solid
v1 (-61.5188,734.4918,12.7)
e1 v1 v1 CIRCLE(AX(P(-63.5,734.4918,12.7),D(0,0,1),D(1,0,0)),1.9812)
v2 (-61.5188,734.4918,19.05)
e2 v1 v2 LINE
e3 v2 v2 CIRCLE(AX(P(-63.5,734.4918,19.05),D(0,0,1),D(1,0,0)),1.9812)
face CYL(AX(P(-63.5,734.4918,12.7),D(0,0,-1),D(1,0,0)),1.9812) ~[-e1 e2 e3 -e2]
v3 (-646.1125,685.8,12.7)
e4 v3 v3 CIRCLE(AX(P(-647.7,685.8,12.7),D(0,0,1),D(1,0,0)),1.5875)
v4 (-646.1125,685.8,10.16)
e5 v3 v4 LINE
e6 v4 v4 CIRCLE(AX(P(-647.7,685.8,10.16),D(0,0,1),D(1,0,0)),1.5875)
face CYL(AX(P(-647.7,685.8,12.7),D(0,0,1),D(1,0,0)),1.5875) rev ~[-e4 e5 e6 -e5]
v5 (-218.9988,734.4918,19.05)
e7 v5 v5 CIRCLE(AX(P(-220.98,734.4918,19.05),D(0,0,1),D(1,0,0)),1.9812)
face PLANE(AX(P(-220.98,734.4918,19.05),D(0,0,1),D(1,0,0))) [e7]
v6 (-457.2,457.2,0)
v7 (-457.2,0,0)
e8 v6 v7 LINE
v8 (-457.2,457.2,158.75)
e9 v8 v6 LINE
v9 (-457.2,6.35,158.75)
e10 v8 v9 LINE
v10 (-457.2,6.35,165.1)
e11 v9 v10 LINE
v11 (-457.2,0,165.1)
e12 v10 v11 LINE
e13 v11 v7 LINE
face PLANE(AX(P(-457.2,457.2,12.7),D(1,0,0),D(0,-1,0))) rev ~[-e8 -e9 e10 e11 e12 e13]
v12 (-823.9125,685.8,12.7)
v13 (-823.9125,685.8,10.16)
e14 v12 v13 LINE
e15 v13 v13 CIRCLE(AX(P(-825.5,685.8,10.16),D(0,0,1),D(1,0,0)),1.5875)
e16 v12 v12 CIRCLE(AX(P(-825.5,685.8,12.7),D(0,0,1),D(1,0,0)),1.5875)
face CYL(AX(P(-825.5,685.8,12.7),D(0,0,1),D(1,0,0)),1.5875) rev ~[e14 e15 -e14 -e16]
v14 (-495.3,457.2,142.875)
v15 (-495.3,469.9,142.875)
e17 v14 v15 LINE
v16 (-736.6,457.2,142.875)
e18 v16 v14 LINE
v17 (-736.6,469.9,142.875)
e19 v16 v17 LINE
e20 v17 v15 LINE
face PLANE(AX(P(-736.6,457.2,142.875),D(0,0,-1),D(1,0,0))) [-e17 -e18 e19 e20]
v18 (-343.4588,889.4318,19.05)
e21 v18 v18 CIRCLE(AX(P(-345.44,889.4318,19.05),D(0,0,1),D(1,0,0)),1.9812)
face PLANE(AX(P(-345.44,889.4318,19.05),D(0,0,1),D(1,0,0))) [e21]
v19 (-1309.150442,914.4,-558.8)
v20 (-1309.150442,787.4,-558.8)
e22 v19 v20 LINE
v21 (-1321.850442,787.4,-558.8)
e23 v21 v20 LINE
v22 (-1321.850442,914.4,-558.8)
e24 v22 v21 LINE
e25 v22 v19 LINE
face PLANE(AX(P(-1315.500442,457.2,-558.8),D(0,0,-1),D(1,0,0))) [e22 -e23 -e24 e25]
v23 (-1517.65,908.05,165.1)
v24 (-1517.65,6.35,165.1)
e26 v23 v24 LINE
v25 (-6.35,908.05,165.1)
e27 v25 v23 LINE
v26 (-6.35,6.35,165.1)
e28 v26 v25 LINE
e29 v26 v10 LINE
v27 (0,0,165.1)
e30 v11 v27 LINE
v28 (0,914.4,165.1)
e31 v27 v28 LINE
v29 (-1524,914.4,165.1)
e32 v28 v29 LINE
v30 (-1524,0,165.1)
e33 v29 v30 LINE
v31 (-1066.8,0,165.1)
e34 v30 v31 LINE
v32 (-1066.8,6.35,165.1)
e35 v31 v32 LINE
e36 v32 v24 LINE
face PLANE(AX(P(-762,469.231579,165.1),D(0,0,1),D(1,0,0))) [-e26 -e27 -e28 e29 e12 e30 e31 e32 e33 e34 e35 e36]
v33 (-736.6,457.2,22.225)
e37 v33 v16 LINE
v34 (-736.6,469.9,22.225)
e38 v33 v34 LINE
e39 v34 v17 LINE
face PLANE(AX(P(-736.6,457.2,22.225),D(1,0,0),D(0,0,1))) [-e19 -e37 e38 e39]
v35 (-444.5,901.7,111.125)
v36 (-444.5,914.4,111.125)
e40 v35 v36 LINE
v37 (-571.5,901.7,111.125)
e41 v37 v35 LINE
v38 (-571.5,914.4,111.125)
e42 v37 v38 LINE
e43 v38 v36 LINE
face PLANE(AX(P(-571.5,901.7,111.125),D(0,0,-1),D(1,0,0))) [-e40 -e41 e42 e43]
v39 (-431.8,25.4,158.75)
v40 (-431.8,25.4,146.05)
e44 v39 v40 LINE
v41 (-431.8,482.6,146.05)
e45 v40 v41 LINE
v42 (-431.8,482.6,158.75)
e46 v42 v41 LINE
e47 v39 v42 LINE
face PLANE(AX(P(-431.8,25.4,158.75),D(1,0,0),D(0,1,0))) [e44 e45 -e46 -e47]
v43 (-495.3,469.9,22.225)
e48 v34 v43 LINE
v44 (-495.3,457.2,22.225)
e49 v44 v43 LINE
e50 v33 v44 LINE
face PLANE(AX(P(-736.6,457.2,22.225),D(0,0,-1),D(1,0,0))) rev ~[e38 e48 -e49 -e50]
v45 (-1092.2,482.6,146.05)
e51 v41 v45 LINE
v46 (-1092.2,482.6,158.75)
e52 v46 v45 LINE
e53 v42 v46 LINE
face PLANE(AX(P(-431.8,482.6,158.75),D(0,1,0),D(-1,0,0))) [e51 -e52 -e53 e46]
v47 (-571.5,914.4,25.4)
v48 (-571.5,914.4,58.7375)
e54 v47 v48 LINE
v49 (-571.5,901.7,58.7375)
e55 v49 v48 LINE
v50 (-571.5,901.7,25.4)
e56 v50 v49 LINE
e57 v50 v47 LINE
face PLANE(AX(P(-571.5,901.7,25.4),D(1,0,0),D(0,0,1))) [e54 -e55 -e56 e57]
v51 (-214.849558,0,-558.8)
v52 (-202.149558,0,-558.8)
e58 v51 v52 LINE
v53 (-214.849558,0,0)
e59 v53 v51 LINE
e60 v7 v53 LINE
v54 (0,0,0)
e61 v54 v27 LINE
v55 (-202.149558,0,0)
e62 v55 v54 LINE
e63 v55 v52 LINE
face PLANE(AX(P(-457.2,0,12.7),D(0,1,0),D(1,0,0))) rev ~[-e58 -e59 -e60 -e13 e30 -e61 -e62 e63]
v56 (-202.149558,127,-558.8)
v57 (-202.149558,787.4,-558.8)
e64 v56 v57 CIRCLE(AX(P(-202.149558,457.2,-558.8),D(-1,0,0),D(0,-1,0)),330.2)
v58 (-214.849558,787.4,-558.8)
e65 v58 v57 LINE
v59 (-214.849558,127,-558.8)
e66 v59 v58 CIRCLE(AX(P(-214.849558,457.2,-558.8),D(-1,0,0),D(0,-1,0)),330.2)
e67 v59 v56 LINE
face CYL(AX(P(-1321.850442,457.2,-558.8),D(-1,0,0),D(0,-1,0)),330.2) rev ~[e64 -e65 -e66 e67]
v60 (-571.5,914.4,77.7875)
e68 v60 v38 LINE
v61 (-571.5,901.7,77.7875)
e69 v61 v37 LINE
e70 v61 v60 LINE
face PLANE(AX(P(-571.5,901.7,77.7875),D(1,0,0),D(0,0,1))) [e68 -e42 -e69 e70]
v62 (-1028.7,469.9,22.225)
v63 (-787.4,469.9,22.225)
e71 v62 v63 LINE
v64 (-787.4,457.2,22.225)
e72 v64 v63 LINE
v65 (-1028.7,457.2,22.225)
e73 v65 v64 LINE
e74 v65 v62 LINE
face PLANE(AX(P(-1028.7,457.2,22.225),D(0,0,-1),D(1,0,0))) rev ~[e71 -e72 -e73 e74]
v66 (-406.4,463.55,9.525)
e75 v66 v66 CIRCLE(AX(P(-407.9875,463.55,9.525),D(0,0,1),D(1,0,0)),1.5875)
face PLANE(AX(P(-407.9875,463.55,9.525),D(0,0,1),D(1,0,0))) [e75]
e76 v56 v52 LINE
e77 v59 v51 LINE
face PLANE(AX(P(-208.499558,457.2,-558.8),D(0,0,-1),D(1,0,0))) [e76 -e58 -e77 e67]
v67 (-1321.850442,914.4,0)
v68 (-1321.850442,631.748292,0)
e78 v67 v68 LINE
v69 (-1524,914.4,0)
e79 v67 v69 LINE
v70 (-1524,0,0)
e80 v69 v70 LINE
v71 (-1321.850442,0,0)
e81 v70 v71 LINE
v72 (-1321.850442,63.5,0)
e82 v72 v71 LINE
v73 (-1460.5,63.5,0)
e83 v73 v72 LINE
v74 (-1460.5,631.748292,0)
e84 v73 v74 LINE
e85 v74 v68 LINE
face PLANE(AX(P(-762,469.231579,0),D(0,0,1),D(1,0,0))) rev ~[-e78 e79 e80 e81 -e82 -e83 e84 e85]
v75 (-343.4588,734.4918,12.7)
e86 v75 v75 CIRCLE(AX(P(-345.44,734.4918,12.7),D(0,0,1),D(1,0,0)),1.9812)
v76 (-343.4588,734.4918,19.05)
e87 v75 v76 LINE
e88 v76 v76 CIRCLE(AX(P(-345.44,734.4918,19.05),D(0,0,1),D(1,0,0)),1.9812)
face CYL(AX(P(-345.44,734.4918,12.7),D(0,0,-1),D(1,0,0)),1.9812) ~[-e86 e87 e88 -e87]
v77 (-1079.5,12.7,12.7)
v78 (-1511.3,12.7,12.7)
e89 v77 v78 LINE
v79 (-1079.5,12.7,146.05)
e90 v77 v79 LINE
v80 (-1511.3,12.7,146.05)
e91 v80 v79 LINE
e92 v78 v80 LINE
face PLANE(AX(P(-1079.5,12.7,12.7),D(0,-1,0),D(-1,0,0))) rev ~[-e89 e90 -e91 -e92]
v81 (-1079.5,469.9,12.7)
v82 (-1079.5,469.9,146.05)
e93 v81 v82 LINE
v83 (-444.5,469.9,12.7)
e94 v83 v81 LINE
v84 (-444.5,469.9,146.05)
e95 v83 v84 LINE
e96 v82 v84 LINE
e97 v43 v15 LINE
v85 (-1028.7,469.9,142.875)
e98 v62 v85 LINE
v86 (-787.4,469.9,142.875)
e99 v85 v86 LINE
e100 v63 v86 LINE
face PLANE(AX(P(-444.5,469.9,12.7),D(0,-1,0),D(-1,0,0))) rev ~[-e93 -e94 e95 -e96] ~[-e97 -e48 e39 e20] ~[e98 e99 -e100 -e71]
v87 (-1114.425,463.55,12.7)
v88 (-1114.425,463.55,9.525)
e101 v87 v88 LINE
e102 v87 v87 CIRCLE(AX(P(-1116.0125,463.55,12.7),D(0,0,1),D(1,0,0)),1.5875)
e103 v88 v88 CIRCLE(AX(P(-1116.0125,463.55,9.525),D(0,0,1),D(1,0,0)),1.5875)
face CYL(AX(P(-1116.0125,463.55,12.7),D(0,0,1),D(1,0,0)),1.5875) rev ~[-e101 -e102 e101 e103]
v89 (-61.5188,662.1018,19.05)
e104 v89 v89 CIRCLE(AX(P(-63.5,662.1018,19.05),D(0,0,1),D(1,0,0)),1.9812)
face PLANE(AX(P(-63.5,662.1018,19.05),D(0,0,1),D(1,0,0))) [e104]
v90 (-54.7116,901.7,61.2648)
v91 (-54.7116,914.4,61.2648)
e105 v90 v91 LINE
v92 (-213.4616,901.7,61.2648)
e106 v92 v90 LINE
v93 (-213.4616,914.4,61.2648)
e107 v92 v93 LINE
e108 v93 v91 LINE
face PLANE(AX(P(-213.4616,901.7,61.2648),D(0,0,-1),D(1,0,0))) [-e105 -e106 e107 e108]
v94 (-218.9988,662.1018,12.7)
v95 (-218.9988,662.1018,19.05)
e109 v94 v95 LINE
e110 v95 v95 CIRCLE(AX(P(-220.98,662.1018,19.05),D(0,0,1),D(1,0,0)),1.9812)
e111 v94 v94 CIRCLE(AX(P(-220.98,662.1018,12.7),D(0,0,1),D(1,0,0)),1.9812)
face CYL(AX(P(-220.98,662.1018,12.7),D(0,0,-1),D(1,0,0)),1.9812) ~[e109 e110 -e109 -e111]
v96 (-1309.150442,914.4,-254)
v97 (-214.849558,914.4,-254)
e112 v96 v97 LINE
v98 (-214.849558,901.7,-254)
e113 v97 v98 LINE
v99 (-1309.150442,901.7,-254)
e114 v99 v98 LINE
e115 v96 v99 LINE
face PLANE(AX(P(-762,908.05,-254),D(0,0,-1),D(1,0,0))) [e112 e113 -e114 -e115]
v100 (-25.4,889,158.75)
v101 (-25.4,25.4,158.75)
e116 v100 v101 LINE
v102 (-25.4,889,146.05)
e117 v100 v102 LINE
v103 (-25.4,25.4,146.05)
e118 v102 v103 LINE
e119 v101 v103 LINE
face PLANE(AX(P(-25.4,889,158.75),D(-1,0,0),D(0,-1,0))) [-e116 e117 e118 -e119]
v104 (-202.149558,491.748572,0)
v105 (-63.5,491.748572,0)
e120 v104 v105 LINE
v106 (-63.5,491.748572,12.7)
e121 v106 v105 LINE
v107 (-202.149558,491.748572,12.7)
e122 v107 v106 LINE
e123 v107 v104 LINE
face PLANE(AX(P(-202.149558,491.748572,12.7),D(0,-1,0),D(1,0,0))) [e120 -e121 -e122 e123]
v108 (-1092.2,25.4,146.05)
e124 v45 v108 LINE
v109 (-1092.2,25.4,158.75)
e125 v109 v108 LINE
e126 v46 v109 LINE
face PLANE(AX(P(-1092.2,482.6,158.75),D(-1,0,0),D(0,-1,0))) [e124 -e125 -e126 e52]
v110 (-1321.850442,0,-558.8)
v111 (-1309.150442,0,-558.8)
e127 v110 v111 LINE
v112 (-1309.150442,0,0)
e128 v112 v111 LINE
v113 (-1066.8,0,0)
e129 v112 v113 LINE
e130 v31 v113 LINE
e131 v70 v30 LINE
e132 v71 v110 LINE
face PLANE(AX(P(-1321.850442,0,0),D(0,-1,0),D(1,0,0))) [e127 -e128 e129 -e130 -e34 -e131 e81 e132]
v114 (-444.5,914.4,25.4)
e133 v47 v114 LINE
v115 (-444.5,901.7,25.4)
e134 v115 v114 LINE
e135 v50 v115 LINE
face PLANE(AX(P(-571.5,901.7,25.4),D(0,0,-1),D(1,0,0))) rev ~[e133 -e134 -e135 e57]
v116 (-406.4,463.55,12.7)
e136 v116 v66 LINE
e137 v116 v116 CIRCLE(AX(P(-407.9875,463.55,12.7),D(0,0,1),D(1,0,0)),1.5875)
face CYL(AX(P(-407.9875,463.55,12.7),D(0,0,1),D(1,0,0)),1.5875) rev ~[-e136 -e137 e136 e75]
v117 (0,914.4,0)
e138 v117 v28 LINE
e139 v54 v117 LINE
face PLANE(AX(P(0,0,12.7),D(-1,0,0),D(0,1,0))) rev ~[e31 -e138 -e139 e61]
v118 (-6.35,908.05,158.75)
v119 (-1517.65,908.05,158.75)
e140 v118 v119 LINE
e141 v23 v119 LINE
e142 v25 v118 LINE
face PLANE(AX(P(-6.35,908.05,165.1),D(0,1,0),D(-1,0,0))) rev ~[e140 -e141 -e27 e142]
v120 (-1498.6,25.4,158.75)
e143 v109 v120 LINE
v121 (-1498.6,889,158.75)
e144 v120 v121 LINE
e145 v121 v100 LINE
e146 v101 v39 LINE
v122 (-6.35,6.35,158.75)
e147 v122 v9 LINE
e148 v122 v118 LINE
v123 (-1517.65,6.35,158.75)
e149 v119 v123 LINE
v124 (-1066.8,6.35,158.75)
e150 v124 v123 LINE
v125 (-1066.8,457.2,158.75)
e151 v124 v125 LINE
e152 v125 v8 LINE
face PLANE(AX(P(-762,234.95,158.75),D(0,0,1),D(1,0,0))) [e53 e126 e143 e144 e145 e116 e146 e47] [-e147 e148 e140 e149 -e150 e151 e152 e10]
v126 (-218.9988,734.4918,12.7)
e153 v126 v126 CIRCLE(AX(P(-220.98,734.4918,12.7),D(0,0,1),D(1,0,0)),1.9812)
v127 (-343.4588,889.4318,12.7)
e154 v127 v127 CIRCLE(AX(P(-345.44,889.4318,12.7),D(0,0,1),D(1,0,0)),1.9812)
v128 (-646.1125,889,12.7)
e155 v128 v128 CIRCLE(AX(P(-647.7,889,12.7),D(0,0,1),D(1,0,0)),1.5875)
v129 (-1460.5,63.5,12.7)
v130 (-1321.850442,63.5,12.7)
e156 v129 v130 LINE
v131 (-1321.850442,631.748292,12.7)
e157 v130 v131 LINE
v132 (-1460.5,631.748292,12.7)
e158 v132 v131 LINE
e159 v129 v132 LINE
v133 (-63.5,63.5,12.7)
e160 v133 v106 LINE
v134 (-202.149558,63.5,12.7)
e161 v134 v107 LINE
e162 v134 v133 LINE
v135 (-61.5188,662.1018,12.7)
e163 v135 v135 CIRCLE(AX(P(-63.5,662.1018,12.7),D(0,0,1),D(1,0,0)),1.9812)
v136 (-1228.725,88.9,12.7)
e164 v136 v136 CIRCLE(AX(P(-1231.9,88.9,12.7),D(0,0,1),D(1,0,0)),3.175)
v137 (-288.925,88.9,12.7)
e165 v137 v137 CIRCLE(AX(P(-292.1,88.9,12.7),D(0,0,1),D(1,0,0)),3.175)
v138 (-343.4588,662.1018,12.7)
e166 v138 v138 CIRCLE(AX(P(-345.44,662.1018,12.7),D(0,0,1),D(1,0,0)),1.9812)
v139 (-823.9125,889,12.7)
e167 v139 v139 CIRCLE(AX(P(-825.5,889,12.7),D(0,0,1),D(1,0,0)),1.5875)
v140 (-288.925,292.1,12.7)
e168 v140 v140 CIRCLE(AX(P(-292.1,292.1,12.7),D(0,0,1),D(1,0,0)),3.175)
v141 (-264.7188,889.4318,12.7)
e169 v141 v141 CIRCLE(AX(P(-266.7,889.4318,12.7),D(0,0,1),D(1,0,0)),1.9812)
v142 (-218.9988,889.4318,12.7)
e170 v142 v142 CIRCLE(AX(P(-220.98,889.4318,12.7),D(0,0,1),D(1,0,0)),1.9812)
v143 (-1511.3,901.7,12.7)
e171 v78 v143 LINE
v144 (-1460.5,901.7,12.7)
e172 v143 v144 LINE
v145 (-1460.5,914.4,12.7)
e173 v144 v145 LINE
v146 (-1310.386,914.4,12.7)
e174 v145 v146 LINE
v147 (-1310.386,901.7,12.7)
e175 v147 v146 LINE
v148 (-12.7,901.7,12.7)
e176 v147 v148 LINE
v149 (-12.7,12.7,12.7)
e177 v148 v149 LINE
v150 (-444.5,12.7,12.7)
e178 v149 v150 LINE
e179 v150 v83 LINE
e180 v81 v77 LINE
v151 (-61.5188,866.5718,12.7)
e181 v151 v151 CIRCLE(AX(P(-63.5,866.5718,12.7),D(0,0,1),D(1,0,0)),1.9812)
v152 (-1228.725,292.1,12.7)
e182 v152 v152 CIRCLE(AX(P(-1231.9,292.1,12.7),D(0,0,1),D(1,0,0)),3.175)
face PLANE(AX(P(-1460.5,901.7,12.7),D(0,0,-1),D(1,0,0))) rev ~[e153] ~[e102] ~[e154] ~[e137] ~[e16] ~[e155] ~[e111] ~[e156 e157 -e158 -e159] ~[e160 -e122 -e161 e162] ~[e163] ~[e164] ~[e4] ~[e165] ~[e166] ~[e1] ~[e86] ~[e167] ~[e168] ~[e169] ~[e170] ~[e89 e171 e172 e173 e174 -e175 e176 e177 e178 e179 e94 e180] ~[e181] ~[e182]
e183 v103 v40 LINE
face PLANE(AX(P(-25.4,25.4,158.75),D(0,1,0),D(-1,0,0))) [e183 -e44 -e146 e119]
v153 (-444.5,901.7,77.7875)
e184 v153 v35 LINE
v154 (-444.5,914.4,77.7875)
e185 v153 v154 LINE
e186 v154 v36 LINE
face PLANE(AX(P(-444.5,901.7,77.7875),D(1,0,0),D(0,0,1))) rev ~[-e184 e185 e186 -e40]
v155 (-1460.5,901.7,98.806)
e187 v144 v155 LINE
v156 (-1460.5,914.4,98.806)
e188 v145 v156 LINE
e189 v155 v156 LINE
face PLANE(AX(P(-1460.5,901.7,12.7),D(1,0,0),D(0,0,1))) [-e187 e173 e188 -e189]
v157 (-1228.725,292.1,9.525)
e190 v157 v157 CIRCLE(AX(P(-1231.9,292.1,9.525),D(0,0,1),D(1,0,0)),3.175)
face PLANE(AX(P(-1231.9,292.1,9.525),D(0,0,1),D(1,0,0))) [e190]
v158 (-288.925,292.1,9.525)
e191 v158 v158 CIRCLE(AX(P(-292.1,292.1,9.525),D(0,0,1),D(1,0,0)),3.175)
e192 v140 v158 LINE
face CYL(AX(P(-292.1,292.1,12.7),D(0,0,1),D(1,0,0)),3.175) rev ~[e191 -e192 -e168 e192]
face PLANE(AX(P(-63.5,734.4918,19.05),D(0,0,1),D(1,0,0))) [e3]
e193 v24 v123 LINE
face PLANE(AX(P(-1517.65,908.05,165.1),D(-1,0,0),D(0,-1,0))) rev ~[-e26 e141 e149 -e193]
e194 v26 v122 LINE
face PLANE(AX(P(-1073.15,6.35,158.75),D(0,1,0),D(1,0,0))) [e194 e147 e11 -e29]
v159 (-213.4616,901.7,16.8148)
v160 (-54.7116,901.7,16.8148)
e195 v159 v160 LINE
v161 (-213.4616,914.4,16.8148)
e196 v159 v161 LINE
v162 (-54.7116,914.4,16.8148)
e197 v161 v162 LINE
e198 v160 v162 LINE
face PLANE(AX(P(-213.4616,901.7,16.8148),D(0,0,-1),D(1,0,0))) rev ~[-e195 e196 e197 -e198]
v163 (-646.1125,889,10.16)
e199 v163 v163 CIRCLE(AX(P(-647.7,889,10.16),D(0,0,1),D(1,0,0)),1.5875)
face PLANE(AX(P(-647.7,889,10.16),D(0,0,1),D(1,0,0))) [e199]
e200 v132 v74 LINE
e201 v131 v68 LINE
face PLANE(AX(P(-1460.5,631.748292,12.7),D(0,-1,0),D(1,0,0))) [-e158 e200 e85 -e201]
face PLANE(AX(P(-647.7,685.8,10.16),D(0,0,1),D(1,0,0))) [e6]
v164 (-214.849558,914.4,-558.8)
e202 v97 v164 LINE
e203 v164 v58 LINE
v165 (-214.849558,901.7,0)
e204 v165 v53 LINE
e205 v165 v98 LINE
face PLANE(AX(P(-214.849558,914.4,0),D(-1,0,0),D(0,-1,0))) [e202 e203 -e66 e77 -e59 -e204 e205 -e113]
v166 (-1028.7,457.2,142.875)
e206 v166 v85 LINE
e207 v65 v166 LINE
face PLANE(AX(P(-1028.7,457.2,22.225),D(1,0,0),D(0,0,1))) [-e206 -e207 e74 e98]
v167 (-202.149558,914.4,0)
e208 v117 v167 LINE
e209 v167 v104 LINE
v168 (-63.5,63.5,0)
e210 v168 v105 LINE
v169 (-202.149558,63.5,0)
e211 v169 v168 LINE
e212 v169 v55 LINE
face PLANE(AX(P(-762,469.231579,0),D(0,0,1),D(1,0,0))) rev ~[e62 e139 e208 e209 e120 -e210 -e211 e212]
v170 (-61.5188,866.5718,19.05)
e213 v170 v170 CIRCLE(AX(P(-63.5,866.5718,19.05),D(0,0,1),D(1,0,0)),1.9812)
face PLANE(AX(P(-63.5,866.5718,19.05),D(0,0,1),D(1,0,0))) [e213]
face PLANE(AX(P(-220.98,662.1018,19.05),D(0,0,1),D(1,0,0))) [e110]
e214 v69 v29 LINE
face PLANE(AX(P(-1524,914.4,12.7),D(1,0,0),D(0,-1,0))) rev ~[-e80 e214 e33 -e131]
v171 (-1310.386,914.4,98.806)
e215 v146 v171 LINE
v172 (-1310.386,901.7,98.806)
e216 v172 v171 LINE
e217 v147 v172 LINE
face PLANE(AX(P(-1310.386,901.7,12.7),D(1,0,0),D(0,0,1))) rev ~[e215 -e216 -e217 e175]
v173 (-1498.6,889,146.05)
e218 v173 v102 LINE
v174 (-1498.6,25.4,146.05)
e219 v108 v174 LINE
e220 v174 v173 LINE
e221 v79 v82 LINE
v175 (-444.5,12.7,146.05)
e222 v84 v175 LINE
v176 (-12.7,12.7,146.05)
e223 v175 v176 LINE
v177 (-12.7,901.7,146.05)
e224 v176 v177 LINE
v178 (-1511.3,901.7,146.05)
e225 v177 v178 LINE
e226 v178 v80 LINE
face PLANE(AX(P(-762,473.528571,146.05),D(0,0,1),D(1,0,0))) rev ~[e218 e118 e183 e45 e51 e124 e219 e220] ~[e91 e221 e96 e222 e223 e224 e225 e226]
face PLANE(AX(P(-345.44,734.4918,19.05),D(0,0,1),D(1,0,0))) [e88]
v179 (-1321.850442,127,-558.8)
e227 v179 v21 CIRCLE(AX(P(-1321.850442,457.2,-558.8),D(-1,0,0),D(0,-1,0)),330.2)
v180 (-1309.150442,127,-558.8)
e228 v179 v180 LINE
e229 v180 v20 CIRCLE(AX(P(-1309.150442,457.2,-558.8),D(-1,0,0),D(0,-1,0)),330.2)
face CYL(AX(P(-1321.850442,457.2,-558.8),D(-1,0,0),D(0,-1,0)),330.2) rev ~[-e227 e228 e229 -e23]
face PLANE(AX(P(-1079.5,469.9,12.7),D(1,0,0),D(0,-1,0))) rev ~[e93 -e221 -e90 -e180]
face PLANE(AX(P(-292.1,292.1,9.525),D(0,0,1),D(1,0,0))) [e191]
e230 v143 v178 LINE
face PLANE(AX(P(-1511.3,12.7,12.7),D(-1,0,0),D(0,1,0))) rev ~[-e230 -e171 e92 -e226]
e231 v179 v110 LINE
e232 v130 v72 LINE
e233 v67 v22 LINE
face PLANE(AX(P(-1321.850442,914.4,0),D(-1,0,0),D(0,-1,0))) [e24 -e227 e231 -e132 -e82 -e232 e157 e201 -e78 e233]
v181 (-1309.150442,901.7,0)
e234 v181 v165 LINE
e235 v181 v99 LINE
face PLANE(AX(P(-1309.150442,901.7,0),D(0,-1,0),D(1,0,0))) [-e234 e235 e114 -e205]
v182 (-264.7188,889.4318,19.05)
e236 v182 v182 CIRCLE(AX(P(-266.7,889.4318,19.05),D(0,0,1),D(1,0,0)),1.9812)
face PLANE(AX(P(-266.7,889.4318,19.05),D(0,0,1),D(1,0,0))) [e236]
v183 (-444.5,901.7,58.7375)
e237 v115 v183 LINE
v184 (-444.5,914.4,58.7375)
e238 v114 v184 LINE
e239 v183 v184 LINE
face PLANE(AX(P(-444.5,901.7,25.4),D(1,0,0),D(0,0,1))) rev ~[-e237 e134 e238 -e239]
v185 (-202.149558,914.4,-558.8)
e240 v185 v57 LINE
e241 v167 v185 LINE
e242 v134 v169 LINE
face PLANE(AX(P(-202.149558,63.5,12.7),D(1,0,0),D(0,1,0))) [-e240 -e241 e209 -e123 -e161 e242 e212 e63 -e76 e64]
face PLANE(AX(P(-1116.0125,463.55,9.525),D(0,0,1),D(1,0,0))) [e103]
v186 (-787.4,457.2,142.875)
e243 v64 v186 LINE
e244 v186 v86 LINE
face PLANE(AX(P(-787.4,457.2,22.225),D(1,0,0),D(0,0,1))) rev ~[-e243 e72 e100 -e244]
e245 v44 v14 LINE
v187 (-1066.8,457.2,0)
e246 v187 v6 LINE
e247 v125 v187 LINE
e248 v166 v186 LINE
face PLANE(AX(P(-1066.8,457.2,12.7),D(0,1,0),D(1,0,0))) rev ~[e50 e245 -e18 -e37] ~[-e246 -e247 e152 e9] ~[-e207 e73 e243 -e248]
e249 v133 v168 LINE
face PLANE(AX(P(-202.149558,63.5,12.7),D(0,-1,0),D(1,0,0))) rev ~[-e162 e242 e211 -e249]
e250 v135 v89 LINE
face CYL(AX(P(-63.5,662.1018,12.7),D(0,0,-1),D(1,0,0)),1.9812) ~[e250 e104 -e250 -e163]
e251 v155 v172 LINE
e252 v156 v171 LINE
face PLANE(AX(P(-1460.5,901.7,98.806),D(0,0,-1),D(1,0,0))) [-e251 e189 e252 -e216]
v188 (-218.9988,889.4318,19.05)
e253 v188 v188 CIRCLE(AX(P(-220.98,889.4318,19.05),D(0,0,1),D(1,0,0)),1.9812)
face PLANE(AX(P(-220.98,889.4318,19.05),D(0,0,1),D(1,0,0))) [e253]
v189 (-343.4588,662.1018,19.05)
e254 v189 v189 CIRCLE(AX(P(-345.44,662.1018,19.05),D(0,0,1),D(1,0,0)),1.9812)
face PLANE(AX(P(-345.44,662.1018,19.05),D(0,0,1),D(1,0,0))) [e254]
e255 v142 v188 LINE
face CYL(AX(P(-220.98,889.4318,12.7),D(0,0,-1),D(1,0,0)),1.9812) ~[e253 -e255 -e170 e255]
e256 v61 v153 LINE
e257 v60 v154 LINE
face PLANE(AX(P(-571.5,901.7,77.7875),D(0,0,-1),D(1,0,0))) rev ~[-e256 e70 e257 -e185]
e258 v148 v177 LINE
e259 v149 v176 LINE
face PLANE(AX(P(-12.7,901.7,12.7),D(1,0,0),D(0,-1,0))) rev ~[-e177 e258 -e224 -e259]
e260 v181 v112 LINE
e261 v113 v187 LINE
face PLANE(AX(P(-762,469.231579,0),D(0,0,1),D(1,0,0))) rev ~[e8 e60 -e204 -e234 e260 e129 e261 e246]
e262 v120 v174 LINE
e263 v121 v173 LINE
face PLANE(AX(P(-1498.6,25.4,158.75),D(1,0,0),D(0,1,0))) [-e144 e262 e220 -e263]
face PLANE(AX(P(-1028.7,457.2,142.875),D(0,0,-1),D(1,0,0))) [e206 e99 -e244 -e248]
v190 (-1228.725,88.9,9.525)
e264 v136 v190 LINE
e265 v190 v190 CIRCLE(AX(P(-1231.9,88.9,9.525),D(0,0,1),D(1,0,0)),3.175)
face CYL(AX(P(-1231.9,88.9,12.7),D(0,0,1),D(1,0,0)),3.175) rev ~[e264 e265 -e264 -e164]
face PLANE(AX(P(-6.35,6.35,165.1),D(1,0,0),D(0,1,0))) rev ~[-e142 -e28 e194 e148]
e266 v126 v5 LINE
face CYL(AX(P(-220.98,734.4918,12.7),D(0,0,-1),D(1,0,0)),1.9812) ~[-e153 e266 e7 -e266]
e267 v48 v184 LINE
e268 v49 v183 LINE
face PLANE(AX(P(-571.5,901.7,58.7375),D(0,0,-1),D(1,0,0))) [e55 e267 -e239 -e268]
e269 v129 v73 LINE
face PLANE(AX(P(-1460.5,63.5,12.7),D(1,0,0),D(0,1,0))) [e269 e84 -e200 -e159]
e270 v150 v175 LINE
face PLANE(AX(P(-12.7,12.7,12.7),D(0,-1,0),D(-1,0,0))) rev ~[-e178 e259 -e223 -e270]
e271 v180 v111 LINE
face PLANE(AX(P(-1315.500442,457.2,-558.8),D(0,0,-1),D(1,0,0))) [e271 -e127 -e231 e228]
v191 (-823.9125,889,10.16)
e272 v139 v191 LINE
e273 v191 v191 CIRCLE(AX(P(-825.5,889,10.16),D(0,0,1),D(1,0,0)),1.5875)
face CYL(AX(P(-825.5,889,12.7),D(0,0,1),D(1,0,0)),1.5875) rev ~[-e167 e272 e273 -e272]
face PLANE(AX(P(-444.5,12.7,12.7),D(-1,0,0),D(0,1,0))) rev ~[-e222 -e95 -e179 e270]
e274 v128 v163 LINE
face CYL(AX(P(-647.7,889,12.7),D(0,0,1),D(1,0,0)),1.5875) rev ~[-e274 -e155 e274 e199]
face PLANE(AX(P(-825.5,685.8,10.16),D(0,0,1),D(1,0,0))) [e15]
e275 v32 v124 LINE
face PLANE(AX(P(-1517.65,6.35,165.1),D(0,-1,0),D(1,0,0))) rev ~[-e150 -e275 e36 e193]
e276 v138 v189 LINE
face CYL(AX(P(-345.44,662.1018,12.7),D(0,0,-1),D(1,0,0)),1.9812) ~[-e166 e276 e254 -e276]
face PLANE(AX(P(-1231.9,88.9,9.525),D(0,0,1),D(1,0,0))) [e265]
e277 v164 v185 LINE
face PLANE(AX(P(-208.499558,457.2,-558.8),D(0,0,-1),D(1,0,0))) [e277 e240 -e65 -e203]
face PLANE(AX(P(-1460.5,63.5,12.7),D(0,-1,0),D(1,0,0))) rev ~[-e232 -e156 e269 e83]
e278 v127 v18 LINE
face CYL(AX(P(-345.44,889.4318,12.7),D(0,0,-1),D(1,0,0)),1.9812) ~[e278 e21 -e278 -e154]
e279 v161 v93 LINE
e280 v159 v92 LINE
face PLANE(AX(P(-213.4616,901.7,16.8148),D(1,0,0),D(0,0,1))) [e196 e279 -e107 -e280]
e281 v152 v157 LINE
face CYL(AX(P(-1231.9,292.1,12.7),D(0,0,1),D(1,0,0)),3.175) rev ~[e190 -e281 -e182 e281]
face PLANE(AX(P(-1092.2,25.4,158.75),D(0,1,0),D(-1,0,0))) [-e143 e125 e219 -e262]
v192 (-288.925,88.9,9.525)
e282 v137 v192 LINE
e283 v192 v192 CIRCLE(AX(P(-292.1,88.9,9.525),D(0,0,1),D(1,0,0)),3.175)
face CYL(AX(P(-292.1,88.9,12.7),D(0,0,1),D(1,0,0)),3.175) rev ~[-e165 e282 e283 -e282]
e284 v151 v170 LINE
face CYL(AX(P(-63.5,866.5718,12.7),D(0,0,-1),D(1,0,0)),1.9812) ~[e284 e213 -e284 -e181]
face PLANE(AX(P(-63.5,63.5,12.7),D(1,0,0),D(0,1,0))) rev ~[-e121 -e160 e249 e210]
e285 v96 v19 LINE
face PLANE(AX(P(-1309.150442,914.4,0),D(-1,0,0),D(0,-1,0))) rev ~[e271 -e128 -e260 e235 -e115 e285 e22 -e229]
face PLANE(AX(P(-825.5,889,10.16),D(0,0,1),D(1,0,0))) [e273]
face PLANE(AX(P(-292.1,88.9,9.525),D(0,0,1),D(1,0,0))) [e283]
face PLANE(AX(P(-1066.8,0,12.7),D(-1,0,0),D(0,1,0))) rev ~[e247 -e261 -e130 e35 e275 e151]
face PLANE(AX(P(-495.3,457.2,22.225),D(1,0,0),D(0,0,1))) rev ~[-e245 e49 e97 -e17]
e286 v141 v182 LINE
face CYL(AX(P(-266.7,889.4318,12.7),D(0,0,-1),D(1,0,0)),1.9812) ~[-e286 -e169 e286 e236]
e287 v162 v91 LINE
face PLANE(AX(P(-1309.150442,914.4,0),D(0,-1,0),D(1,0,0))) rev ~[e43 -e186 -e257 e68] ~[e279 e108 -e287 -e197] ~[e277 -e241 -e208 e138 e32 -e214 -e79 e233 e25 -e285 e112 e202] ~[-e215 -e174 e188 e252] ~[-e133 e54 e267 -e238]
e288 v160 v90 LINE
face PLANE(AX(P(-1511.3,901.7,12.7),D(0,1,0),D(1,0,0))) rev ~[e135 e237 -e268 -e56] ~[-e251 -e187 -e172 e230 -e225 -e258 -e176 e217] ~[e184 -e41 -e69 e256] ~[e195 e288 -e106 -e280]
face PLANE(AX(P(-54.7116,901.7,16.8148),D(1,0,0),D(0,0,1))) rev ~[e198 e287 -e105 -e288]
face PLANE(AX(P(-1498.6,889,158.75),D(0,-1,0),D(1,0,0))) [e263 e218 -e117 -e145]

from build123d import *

# Parameters (mm, degrees)
F1_DEPTH  = 12.7
F3_DEPTH  = 152.4
F4_R      = 1.9812
F5_DEPTH  = 6.35
F6_W      = 158.75
F6_H      = 44.45
F7_DEPTH  = 25.4
F8_W      = 127
F8_H      = 33.3375
F9_DEPTH  = 25.4
F10_R     = 1.5875
F11_DEPTH = 2.54
F12_W     = 138.649558
F12_H     = 568.248292
F12_H_2   = 428.248572
F13_DEPTH = 12.701
F14_R     = 3.175
F15_DEPTH = 3.175
F16_R     = 1.5875
F17_DEPTH = 3.175
F18_W     = 150.114
F18_H     = 86.106
F19_DEPTH = 25.4
F21_DEPTH = 6.35
F23_DEPTH = 12.7
F24_W     = 241.3
F24_H     = 120.65
F25_DEPTH = 25.4
F26_W     = 12.7
F26_H     = 914.4
F27_DEPTH = 558.8
F28_W     = 1094.300884
F28_H     = 12.7
F29_DEPTH = 254
F31_DEPTH = 1321.851442
F32_W     = 622.3
F32_H     = 457.2
F33_DEPTH = 25.4


with BuildPart() as f1:
    # F0 (on Top) → F1 (new body)
    with BuildSketch(Plane.XY):
        Polygon((0, 0), (0, 914.4), (-1524, 914.4), (-1524, 0), (-1066.8, 0), (-1066.8, 457.2), (-457.2, 457.2), (-457.2, 0), align=None)
    extrude(amount=F1_DEPTH)

    # F2 (on face) → F3 (join)
    with BuildSketch(Plane.XY.offset(12.7)):
        Polygon((-457.2, 0), (0, 0), (0, 914.4), (-1524, 914.4), (-1524, 0), (-1066.8, 0), (-1066.8, 457.2), (-457.2, 457.2), align=None)
        Polygon((-12.7, 901.7), (-12.7, 12.7), (-444.5, 12.7), (-444.5, 469.9), (-1079.5, 469.9), (-1079.5, 12.7), (-1511.3, 12.7), (-1511.3, 901.7), align=None, mode=Mode.SUBTRACT)
    extrude(amount=F3_DEPTH)

    # F4 (on face) → F5 (join)
    with BuildSketch(Plane.XY.offset(12.7)):
        with Locations((-345.44, 889.4318)):
            Circle(F4_R)
        with Locations((-266.7, 889.4318)):
            Circle(F4_R)
        with Locations((-220.98, 889.4318)):
            Circle(F4_R)
        with Locations((-63.5, 866.5718)):
            Circle(F4_R)
        with Locations((-63.5, 734.4918)):
            Circle(F4_R)
        with Locations((-220.98, 734.4918)):
            Circle(F4_R)
        with Locations((-345.44, 734.4918)):
            Circle(F4_R)
        with Locations((-345.44, 662.1018)):
            Circle(F4_R)
        with Locations((-220.98, 662.1018)):
            Circle(F4_R)
        with Locations((-63.5, 662.1018)):
            Circle(F4_R)
    extrude(amount=F5_DEPTH)

    # F6 (on face) → F7 (cut)
    with BuildSketch(Plane.XZ.offset(-901.7)):
        with Locations((-134.0866, 39.0398)):
            Rectangle(F6_W, F6_H)
    extrude(amount=-F7_DEPTH, mode=Mode.SUBTRACT)

    # F8 (on face) → F9 (cut)
    with BuildSketch(Plane.XZ.offset(-901.7)):
        with Locations((-508, 42.06875)):
            Rectangle(F8_W, F8_H)
        with Locations((-508, 94.45625)):
            Rectangle(F8_W, F8_H)
    extrude(amount=-F9_DEPTH, mode=Mode.SUBTRACT)

    # F10 (on face) → F11 (cut)
    with BuildSketch(Plane.XY.offset(12.7)):
        with Locations((-647.7, 889)):
            Circle(F10_R)
        with Locations((-647.7, 685.8)):
            Circle(F10_R)
        with Locations((-825.5, 889)):
            Circle(F10_R)
        with Locations((-825.5, 685.8)):
            Circle(F10_R)
    extrude(amount=-F11_DEPTH, mode=Mode.SUBTRACT)

    # F12 (on face) → F13 (cut, through all)
    with BuildSketch(Plane.XY.offset(12.7)):
        with Locations((-1391.175221, 347.624146)):
            Rectangle(F12_W, F12_H)
        with Locations((-132.824779, 277.624286)):
            Rectangle(F12_W, F12_H_2)
    extrude(amount=-F13_DEPTH, mode=Mode.SUBTRACT)

    # F14 (on face) → F15 (cut)
    with BuildSketch(Plane.XY.offset(12.7)):
        with Locations((-1231.9, 88.9)):
            Circle(F14_R)
        with Locations((-1231.9, 292.1)):
            Circle(F14_R)
        with Locations((-292.1, 292.1)):
            Circle(F14_R)
        with Locations((-292.1, 88.9)):
            Circle(F14_R)
    extrude(amount=-F15_DEPTH, mode=Mode.SUBTRACT)

    # F16 (on face) → F17 (cut)
    with BuildSketch(Plane.XY.offset(12.7)):
        with Locations((-1116.0125, 463.55)):
            Circle(F16_R)
        with Locations((-407.9875, 463.55)):
            Circle(F16_R)
    extrude(amount=-F17_DEPTH, mode=Mode.SUBTRACT)

    # F18 (on face) → F19 (cut)
    with BuildSketch(Plane.XZ.offset(-901.7)):
        with Locations((-1385.443, 55.753)):
            Rectangle(F18_W, F18_H)
    extrude(amount=-F19_DEPTH, mode=Mode.SUBTRACT)

    # F20 (on face) → F21 (cut)
    with BuildSketch(Plane.XY.offset(165.1)):
        Polygon((-1517.65, 908.05), (-1517.65, 6.35), (-1073.15, 6.35), (-1073.15, 463.55), (-450.85, 463.55), (-450.85, 6.35), (-6.35, 6.35), (-6.35, 908.05), align=None)
        Polygon((-1079.5, 12.7), (-1511.3, 12.7), (-1511.3, 901.7), (-12.7, 901.7), (-12.7, 12.7), (-444.5, 12.7), (-444.5, 469.9), (-1079.5, 469.9), align=None, mode=Mode.SUBTRACT)
    extrude(amount=-F21_DEPTH, mode=Mode.SUBTRACT)

    # F22 (on face) → F23 (join)
    with BuildSketch(Plane.XY.offset(158.75)):
        Polygon((-1511.3, 901.7), (-1511.3, 12.7), (-1079.5, 12.7), (-1079.5, 469.9), (-444.5, 469.9), (-444.5, 12.7), (-12.7, 12.7), (-12.7, 901.7), align=None)
        Polygon((-1092.2, 25.4), (-1498.6, 25.4), (-1498.6, 889), (-25.4, 889), (-25.4, 25.4), (-431.8, 25.4), (-431.8, 482.6), (-1092.2, 482.6), align=None, mode=Mode.SUBTRACT)
    extrude(amount=-F23_DEPTH)

    # F24 (on face) → F25 (cut)
    with BuildSketch(Plane.XZ.offset(-457.2)):
        with Locations((-908.05, 82.55)):
            Rectangle(F24_W, F24_H)
        with Locations((-615.95, 82.55)):
            Rectangle(F24_W, F24_H)
    extrude(amount=-F25_DEPTH, mode=Mode.SUBTRACT)

    # F26 (on face) → F27 (join)
    with BuildSketch(Plane(origin=(0, 0, 0), x_dir=(1, 0, 0), z_dir=(0, 0, -1))):
        with Locations((-1315.500442, -457.2)):
            Rectangle(F26_W, F26_H)
        with Locations((-208.499558, -457.2)):
            Rectangle(F26_W, F26_H)
    extrude(amount=F27_DEPTH)

    # F28 (on face) → F29 (join)
    with BuildSketch(Plane(origin=(0, 0, 0), x_dir=(1, 0, 0), z_dir=(0, 0, -1))):
        with Locations((-762, -908.05)):
            Rectangle(F28_W, F28_H)
    extrude(amount=F29_DEPTH)

    # F30 (on face) → F31 (cut, through all)
    with BuildSketch(Plane(origin=(-1321.850442, 0, 0), x_dir=(0, -1, 0), z_dir=(-1, 0, 0))):
        with BuildLine():
            Line((-787.4, -558.8), (-127, -558.8))
            ThreePointArc((-127, -558.8), (-457.2, -228.6), (-787.4, -558.8))
        make_face()
    extrude(amount=-F31_DEPTH, mode=Mode.SUBTRACT)

    # F32 (on face) → F33 (cut)
    with BuildSketch(Plane.XY.offset(158.75)):
        with Locations((-762, 234.95)):
            Rectangle(F32_W, F32_H)
    extrude(amount=F33_DEPTH, mode=Mode.SUBTRACT)


solid = f1.part
